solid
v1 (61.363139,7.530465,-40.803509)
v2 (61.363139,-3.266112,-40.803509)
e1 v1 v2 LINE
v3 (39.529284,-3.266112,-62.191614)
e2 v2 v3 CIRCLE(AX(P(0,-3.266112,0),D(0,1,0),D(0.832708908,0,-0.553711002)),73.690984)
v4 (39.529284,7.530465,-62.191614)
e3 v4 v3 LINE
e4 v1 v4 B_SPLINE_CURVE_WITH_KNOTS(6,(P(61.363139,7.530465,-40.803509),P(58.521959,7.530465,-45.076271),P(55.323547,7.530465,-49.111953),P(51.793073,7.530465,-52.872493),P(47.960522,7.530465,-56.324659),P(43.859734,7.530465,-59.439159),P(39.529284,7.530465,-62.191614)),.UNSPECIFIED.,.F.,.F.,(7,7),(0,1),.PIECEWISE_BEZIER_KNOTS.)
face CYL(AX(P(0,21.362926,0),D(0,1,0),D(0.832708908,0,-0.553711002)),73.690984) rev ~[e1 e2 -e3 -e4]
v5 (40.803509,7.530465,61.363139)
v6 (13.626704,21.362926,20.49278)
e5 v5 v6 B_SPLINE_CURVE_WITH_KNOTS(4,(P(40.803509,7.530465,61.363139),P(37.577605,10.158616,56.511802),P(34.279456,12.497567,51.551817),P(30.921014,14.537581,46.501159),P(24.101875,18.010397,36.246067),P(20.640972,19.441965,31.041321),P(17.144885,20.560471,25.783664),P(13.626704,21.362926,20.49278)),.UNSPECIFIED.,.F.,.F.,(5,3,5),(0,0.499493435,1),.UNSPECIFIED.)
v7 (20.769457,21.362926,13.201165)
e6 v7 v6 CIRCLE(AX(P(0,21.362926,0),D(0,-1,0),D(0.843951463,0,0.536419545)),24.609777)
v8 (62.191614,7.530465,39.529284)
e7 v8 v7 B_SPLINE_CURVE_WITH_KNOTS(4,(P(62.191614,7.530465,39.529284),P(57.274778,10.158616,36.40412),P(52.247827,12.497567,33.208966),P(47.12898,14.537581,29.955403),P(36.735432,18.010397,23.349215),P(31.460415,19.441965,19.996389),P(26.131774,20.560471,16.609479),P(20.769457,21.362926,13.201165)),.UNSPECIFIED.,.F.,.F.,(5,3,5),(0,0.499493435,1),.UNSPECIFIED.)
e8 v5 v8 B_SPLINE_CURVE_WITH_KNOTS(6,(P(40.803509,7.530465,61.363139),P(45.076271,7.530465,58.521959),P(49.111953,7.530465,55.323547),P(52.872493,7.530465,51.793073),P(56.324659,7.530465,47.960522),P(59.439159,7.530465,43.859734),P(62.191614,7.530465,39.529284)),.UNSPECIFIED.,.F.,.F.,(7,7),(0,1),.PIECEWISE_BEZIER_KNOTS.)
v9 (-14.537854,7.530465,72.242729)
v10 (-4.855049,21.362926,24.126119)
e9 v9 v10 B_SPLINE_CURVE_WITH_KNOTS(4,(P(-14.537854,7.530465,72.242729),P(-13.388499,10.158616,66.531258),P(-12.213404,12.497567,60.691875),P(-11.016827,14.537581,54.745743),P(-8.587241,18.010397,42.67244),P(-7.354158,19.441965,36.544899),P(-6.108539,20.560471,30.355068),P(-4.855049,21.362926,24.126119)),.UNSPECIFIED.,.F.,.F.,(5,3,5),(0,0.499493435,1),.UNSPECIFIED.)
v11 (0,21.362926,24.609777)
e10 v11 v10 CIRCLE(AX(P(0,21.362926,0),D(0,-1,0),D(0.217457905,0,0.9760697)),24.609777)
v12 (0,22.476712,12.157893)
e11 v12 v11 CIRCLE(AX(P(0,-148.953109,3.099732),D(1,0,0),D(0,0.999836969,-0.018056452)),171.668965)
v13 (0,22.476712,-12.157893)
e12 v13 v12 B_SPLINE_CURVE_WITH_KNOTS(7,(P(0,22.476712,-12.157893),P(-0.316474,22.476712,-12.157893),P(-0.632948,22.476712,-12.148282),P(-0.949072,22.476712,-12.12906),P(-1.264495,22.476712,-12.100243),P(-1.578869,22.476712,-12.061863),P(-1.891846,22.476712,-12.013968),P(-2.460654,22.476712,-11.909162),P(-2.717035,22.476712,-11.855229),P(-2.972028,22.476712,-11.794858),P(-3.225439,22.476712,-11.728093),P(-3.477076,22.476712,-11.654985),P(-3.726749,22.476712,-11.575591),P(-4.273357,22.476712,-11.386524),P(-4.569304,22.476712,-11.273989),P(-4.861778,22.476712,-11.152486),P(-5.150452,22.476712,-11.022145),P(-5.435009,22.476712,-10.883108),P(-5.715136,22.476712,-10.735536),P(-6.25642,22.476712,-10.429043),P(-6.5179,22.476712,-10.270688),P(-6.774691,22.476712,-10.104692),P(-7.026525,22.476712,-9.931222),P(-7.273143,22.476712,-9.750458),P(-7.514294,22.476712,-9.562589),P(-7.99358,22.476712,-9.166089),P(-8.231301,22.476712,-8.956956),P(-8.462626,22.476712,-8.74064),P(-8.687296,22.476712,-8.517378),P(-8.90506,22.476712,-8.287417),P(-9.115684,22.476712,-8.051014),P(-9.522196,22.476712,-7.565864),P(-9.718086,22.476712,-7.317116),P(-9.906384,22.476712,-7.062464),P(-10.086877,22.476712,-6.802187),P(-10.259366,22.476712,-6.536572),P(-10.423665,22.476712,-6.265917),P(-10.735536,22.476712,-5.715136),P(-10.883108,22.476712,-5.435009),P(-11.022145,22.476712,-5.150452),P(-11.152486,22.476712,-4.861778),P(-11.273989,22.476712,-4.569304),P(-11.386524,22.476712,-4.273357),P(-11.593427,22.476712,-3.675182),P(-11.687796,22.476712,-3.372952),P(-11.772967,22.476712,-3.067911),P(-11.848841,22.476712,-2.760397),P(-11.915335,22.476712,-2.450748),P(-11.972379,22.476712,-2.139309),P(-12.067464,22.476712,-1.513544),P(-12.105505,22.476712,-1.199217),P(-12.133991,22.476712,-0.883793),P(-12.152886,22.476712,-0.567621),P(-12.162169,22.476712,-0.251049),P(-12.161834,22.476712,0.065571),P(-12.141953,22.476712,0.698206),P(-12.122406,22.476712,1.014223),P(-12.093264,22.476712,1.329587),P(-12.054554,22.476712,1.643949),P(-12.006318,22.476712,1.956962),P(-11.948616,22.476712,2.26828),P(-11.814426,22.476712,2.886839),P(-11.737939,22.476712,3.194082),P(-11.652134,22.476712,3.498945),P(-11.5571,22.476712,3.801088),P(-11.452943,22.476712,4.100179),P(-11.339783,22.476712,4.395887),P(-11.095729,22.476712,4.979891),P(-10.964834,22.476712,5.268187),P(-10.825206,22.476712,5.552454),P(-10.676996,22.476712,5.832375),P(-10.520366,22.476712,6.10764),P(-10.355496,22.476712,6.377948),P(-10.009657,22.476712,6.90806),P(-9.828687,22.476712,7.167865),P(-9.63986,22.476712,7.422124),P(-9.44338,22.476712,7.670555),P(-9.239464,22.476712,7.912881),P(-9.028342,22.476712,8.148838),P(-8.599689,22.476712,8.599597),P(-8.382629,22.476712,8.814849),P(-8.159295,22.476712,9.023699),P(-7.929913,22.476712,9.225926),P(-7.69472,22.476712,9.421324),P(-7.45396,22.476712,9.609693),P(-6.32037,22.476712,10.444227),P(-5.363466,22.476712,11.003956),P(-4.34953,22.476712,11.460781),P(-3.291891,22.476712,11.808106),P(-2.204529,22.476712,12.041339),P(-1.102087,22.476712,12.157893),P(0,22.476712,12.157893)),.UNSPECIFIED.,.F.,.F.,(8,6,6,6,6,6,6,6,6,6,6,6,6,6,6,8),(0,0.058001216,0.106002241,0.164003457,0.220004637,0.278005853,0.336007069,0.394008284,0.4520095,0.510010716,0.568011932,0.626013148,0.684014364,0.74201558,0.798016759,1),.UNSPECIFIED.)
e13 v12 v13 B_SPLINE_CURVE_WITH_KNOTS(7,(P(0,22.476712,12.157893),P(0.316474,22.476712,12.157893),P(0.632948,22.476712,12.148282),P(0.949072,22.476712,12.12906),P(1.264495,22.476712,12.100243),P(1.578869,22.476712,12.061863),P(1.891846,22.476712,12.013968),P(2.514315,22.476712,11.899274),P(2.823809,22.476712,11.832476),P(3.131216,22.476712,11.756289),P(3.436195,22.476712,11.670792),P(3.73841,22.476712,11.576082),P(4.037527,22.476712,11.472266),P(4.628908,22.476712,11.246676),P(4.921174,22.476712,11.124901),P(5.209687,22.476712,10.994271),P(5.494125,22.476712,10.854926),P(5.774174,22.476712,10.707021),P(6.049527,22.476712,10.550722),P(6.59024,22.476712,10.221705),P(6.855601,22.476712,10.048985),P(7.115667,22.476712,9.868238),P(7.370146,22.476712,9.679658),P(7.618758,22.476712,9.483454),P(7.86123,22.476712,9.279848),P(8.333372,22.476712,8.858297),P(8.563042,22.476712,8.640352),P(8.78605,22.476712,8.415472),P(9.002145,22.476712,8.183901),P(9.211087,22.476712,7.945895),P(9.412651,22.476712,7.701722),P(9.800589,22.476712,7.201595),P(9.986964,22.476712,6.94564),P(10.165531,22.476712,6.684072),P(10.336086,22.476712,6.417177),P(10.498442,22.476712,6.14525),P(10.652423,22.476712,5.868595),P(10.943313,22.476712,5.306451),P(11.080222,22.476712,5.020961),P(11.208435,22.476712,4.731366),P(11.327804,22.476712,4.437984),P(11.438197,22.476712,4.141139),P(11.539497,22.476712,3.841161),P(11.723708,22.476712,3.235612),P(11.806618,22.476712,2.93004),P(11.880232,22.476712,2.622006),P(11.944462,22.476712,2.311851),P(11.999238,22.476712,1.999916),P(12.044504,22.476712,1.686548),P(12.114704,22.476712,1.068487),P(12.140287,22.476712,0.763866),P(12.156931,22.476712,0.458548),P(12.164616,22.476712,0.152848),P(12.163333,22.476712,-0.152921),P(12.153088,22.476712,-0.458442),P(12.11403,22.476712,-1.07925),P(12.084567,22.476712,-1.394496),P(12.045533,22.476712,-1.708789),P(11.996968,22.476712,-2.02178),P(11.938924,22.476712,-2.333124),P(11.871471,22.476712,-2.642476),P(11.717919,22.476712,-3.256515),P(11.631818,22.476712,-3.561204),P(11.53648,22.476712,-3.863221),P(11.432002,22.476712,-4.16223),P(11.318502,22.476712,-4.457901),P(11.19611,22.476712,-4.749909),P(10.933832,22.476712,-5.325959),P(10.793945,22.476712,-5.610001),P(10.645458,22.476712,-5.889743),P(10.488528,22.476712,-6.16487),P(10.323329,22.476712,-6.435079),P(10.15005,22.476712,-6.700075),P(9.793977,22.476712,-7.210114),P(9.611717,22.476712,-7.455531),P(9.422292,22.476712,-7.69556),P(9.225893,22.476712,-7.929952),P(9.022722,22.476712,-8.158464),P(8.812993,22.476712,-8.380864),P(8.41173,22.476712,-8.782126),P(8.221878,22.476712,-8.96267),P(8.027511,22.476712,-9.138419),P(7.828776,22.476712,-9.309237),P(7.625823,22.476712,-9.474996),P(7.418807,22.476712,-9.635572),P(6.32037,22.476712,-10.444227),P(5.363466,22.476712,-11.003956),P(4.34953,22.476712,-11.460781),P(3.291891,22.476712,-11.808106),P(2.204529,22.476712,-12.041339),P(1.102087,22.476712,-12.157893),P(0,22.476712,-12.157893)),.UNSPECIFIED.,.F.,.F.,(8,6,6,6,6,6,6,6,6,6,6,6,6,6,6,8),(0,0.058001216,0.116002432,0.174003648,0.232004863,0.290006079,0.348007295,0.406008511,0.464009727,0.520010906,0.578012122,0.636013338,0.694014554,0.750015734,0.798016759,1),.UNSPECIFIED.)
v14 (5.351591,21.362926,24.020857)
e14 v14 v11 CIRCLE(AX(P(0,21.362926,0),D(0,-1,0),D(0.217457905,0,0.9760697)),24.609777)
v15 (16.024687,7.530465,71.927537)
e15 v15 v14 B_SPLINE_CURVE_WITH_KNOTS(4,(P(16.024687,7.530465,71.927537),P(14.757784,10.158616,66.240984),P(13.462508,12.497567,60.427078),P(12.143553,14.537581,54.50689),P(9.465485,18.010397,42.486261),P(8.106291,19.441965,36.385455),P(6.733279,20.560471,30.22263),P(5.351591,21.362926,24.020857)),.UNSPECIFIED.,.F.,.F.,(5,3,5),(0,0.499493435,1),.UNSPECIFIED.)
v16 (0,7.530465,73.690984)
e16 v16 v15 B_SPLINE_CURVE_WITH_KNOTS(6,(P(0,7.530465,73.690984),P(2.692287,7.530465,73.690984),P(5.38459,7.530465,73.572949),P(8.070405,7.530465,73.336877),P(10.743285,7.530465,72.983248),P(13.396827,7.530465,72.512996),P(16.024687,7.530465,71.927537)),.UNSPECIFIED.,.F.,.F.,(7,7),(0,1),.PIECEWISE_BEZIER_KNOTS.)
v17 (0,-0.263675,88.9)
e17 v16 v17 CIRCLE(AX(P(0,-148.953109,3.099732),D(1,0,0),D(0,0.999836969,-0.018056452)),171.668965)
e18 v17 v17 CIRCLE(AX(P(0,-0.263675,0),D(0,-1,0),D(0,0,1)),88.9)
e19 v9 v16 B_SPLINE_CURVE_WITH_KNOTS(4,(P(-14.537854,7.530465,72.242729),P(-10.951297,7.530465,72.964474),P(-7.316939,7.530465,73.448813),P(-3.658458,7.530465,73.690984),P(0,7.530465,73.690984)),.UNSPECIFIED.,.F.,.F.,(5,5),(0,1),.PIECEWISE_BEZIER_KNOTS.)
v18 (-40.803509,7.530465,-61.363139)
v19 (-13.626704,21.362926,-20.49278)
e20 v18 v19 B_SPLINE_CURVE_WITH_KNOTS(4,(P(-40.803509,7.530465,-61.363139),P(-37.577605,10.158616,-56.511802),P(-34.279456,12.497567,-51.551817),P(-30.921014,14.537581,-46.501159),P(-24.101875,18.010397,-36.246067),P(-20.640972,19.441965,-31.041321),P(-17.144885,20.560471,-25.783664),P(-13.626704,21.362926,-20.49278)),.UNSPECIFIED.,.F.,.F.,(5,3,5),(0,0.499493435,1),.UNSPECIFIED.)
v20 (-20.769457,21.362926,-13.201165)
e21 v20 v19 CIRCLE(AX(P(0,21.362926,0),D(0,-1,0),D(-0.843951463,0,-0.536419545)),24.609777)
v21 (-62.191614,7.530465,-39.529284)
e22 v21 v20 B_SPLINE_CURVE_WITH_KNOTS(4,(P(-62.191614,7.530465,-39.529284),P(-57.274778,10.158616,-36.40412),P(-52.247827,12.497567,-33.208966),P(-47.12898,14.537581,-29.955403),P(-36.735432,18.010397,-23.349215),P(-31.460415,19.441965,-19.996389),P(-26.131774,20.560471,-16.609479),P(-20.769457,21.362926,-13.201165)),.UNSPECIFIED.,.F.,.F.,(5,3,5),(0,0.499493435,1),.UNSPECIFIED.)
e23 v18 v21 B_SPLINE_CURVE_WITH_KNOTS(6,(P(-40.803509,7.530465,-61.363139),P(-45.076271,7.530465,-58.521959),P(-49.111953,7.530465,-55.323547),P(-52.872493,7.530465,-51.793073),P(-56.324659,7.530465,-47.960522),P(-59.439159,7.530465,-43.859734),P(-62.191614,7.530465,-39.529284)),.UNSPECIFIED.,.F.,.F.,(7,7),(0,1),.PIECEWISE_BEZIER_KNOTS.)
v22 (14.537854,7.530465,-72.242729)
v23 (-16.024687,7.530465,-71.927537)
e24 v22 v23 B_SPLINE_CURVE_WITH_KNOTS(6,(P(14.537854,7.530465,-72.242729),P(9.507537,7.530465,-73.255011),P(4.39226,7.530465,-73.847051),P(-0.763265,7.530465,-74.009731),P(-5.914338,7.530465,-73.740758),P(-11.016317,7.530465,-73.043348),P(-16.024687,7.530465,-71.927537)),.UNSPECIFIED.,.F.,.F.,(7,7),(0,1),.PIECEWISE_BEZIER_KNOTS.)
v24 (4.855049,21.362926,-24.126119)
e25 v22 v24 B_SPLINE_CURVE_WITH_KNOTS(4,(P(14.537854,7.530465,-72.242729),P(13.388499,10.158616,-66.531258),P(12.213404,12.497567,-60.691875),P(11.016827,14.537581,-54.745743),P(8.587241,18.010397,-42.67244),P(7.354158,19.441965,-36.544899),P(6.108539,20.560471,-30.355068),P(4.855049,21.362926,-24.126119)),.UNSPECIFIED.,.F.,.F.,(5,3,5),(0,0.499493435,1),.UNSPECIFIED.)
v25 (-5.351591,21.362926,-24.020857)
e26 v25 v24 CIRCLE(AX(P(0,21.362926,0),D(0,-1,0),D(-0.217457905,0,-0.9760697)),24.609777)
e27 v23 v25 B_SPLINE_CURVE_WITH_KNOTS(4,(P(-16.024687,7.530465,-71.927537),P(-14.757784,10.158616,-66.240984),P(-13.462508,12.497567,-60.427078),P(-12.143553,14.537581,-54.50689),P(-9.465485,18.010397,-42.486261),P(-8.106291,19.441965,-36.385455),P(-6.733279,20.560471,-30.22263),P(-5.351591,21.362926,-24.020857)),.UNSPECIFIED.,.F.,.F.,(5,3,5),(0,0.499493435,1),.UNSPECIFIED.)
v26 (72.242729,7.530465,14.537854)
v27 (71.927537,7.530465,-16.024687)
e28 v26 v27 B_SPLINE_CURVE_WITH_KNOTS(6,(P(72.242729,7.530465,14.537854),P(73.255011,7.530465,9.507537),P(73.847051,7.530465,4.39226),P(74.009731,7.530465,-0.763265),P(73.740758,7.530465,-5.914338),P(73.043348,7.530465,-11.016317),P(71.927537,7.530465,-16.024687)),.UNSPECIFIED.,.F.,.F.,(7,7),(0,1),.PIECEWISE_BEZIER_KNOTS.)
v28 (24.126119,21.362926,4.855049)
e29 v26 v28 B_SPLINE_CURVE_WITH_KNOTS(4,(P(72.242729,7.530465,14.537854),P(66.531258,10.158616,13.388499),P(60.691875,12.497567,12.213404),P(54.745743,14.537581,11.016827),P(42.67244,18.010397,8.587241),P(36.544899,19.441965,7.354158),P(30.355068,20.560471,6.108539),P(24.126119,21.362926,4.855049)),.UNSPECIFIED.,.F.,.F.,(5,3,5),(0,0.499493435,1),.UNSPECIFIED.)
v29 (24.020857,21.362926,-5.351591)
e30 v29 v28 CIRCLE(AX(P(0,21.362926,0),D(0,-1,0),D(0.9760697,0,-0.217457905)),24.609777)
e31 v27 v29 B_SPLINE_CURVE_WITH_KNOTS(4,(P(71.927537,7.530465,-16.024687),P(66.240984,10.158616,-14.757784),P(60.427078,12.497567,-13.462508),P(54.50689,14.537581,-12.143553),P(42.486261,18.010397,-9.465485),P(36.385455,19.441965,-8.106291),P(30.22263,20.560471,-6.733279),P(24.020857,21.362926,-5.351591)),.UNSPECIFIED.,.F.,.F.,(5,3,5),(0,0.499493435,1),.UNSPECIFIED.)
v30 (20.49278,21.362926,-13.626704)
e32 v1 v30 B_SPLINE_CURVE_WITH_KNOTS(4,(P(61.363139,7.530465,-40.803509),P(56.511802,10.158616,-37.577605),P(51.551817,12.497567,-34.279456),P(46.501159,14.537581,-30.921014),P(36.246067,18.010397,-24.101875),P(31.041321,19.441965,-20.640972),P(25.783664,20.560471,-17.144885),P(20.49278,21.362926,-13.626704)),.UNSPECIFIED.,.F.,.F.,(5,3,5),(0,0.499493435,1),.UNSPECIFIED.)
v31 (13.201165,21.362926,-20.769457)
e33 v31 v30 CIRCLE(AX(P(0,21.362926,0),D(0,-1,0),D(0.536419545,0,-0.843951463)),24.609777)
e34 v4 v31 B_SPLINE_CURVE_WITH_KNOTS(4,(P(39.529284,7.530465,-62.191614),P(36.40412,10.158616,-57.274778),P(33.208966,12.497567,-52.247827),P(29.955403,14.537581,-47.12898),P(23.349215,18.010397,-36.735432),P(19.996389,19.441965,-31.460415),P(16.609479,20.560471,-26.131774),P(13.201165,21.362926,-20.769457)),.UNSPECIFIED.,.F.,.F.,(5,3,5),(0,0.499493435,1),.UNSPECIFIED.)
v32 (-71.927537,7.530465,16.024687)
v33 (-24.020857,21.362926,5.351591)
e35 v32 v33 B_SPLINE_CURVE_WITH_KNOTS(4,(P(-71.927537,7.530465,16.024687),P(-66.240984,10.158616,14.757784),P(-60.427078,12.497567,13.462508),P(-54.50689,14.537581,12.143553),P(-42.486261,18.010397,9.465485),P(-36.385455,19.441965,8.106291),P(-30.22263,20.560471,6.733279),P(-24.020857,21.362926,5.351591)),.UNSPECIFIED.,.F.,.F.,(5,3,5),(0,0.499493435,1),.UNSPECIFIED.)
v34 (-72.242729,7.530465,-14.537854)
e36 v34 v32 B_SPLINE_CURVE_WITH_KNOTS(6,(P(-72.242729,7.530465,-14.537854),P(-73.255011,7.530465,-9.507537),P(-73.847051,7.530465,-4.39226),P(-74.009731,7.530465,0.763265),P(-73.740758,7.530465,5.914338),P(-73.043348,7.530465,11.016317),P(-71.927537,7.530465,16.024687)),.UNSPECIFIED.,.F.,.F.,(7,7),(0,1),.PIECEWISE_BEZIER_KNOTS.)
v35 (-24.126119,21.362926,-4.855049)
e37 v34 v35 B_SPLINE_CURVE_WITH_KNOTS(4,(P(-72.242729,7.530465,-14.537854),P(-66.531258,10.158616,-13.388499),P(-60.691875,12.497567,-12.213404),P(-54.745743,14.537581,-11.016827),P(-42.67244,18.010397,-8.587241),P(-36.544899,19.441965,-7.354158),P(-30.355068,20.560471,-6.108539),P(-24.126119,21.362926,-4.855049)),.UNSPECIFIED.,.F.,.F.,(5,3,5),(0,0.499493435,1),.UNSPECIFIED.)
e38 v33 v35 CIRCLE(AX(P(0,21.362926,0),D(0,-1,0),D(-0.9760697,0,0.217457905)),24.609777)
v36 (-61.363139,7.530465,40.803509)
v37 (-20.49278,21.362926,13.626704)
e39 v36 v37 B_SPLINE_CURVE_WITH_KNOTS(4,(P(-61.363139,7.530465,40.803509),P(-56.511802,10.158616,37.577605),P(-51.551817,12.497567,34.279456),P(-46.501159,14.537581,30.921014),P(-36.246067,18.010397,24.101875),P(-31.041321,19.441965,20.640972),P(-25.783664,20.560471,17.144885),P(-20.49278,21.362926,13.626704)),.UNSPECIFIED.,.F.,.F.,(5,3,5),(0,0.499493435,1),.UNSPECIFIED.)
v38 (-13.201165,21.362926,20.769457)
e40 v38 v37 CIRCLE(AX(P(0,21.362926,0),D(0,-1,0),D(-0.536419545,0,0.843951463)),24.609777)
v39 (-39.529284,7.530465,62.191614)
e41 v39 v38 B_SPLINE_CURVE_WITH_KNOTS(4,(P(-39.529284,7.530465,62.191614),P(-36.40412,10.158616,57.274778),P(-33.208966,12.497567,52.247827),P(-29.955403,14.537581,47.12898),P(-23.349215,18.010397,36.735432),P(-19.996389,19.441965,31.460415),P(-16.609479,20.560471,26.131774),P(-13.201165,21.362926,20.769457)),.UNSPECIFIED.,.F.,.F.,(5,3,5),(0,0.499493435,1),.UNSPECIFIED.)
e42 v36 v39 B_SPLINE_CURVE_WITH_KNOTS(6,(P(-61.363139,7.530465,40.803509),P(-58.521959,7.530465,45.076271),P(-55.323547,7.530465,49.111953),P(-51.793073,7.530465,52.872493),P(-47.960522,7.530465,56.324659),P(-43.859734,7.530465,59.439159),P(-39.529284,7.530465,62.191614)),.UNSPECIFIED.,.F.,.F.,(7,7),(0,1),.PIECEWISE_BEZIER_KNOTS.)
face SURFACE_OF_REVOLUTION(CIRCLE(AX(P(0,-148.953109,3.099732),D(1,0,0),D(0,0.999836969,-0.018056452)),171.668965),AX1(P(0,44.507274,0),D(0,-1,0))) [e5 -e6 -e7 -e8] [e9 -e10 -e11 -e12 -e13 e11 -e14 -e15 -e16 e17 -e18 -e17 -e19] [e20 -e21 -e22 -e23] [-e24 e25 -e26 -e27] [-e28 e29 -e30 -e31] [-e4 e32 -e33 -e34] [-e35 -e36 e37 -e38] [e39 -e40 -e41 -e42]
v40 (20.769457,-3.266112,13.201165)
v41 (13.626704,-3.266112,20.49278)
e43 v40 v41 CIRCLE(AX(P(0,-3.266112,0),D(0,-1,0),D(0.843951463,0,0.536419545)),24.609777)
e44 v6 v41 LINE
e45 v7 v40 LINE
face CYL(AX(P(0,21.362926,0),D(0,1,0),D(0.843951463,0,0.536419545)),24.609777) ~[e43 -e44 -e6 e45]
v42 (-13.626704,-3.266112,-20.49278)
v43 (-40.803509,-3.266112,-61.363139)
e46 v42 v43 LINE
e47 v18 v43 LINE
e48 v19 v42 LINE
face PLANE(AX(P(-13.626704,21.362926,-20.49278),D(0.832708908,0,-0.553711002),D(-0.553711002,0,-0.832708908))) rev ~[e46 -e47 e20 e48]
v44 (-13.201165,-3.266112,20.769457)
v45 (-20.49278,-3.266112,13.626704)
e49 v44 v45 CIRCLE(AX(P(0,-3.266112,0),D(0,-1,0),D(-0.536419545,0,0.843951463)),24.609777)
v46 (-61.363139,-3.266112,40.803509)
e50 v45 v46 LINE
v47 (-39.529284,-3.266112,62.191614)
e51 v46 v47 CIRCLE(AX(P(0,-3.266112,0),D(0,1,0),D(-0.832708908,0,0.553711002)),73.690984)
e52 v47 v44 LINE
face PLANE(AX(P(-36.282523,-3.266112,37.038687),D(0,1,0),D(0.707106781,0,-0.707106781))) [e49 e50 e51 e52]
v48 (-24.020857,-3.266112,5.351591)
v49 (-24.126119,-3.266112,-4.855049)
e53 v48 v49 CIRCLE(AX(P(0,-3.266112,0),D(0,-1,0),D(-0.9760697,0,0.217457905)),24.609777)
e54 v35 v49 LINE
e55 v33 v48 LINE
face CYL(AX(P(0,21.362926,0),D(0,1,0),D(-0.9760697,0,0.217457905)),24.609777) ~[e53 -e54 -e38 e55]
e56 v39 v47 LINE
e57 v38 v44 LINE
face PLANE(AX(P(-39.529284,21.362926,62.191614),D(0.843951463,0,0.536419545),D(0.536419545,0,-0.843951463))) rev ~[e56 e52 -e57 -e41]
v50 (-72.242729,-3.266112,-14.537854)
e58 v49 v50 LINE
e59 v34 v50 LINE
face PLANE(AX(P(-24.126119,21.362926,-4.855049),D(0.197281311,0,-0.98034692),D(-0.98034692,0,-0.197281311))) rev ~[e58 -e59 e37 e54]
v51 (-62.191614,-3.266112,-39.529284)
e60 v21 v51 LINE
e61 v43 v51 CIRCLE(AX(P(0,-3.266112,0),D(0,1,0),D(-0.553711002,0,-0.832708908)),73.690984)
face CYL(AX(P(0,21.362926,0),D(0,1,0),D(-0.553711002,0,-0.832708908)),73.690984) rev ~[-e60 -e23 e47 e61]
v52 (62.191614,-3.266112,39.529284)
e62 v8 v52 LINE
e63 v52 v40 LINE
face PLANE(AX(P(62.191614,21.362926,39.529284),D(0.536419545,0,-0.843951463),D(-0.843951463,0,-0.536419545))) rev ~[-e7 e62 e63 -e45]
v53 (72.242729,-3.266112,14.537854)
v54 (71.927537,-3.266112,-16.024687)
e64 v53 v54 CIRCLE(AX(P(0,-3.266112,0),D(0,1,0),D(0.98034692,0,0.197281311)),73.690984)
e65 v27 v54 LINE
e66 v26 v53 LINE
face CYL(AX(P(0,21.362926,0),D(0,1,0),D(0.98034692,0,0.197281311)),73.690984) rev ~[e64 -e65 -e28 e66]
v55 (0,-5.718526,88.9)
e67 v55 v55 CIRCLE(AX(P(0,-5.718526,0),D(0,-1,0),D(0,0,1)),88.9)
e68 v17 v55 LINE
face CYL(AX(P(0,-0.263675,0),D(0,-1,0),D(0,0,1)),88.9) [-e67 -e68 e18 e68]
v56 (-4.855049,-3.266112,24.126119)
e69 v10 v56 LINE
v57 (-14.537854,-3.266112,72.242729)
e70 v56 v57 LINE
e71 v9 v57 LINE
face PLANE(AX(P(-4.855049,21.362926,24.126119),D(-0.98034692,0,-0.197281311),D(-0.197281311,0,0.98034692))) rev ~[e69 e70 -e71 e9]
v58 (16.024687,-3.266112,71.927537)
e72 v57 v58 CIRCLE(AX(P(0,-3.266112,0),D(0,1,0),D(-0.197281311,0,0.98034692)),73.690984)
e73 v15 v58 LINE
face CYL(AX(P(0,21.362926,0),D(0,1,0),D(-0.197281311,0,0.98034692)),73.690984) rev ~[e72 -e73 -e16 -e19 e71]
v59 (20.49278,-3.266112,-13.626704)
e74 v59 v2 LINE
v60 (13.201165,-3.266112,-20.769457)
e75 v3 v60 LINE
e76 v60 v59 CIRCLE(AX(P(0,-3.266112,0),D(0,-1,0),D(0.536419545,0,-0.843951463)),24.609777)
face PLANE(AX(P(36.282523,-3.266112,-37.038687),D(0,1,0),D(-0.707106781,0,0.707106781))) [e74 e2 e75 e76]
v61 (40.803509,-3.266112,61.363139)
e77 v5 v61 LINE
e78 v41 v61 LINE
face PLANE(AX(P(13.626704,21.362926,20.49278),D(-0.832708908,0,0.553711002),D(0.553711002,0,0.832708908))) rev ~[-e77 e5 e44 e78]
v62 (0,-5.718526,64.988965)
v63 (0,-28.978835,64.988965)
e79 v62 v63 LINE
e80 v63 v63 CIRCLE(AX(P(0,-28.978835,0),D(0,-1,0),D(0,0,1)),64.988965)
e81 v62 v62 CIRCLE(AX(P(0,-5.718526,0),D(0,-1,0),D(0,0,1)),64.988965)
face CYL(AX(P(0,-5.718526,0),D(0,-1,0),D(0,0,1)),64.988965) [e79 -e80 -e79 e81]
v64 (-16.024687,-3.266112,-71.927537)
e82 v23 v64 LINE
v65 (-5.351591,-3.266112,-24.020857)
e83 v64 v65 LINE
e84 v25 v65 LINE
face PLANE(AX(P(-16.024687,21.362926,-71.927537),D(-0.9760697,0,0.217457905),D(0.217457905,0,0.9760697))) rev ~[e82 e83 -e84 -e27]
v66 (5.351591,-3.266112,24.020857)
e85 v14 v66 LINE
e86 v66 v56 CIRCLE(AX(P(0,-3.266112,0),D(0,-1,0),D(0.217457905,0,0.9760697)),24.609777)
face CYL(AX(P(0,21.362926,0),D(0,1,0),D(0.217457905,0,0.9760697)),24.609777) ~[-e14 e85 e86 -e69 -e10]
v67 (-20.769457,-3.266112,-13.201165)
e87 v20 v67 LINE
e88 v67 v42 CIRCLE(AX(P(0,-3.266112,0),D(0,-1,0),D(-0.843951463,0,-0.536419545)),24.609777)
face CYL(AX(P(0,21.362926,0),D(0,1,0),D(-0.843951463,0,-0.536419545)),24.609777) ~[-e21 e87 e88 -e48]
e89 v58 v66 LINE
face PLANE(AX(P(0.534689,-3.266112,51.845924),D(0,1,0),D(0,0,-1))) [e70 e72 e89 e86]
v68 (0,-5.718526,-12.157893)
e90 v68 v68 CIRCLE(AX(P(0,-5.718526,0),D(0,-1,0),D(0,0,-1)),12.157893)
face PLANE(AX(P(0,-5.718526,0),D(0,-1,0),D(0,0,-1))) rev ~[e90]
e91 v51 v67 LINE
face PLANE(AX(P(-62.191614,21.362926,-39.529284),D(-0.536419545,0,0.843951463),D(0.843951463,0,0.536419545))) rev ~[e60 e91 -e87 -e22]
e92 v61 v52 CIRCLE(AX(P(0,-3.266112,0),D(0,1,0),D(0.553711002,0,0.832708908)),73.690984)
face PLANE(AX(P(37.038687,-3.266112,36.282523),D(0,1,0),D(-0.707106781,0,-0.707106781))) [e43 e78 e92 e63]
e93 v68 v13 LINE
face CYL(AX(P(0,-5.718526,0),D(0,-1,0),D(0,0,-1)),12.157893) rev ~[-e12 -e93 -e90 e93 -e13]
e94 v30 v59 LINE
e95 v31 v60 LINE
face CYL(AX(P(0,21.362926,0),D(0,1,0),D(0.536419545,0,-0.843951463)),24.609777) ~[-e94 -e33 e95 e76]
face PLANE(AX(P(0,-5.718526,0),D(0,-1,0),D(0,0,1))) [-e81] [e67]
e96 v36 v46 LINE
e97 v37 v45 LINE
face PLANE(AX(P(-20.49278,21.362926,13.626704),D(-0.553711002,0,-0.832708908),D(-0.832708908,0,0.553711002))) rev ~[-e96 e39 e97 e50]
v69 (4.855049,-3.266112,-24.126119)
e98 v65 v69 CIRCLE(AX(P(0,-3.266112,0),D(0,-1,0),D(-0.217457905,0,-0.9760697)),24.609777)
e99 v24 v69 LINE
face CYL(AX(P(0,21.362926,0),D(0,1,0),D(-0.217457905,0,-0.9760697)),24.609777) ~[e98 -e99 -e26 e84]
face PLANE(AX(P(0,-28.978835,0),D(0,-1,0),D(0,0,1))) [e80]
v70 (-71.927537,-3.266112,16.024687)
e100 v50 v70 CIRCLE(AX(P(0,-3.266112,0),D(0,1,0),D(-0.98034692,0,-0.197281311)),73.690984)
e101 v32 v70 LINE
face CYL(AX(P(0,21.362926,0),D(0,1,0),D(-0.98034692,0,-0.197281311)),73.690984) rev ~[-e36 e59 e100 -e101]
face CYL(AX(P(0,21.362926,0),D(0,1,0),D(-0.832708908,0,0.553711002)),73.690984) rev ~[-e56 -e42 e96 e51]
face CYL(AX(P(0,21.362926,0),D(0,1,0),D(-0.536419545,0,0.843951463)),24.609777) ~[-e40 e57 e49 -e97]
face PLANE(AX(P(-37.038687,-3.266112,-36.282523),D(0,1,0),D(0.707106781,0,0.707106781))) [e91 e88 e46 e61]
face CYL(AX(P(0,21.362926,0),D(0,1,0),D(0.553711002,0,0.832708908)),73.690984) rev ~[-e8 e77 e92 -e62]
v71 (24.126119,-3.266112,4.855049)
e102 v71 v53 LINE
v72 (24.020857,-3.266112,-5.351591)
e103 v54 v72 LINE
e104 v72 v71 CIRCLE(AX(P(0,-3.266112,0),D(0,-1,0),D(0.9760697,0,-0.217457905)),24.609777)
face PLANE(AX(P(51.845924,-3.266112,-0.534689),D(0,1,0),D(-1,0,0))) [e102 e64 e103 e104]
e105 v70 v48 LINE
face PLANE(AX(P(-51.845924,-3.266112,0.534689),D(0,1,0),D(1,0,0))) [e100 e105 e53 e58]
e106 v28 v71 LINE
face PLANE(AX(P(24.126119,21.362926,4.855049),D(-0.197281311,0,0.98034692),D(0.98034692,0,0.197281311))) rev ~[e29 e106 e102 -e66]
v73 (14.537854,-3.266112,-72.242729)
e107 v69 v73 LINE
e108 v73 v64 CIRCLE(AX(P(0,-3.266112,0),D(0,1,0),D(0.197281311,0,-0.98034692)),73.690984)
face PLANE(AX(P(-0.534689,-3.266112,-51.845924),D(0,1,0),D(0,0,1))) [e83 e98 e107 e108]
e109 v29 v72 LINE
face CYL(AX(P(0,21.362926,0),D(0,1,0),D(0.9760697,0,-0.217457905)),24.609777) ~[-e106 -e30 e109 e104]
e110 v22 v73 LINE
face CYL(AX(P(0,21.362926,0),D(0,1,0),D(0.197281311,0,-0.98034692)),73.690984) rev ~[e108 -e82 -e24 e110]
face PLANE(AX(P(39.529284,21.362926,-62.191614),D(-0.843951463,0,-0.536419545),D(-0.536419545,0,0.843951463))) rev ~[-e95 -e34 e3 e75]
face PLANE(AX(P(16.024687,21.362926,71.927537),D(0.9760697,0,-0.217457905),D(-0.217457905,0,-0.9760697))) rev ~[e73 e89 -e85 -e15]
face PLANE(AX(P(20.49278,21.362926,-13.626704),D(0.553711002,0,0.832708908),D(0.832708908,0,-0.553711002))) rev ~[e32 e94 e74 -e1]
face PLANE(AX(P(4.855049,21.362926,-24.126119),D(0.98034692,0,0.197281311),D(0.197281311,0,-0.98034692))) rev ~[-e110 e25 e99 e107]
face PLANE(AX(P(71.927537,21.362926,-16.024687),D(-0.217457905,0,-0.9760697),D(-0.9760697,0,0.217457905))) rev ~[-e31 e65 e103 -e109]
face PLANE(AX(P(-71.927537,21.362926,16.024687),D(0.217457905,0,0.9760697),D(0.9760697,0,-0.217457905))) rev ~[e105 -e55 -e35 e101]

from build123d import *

# Parameters (mm, degrees)
CUT_EXTRUDE3_START = -28.048647
CUT_EXTRUDE3_DEPTH = 25.508647
CIRPATTERN2_COUNT  = 8
CUT_EXTRUDE4_REACH = 31.45
SKETCH6_R          = 12.59210321
SCALE1_SCALE       = 0.96551724


with BuildPart() as part:
    # Sketch1 → Revolve1 (revolve)
    with BuildSketch(Plane.XY, mode=Mode.PRIVATE) as revolve1_sk:
        with BuildLine():
            Line((-92.075, 0), (-92.075, -5.649667396))
            Line((-92.075, -5.649667396), (-67.31, -5.649667396))
            Line((-67.31, -5.649667396), (-67.31, -29.740701954))
            Line((-67.31, -29.740701954), (0, -29.740701954))
            Line((0, -29.740701954), (0, 0))
            Line((0, 0), (0, 23.771242064))
            ThreePointArc((0, 23.771242064), (-47.656193975, 18.155434253), (-92.075, 0))
        make_face()
    revolve(revolve1_sk.sketch.rotate(Axis((0, 46.369911649, 0), (0, -1, 0)), 270), axis=Axis((0, 46.369911649, 0), (0, -1, 0)))  # turned: the seam where the file's is

    # Sketch4 → Cut-Extrude3 (cut)
    with BuildSketch(Plane.XZ.offset(5.649667396).offset(CUT_EXTRUDE3_START)):
        with BuildLine():
            Line((24.987766053, 5.028443659), (74.822826668, 15.057063026))
            ThreePointArc((74.822826668, 15.057063026), (76.318746359, -0.787077909), (74.496377234, -16.596997215))
            Line((74.496377234, -16.596997215), (24.878745284, -5.542718741))
            ThreePointArc((24.878745284, -5.542718741), (25.487342091, -0.262851853), (24.987766053, 5.028443659))
        make_face()
    cut_extrude3 = extrude(amount=CUT_EXTRUDE3_DEPTH, mode=Mode.SUBTRACT)

    # CirPattern2: Cut-Extrude3 ×8 about axis
    cirpattern2_axis = Axis((0, 0, 0), (0, 1, 0))
    for i in range(1, CIRPATTERN2_COUNT):
        add(cut_extrude3.rotate(cirpattern2_axis, i * 360 / CIRPATTERN2_COUNT), mode=Mode.SUBTRACT)

    # Sketch6 → Cut-Extrude4 (cut, up to next)
    with BuildSketch(Plane.XZ.offset(5.649667396), mode=Mode.PRIVATE) as cut_extrude4_sk1:
        with Locations(Location((0, 0, 0), (0, 0, 270))):  # turned: the seam where the file's is
            Circle(SKETCH6_R)
    cut_extrude4_tool1 = extrude(cut_extrude4_sk1.sketch, amount=-CUT_EXTRUDE4_REACH, mode=Mode.PRIVATE) & part.part
    add(cut_extrude4_tool1.solids().sort_by_distance((0, -5.649667, 0))[0], mode=Mode.SUBTRACT)


with BuildPart() as part_1:
    # Scale1: scaled about (-5e-09, -7.646574392, 0)
    add(part.part.scale(SCALE1_SCALE).moved(Location((0, -0.26367499, 0))))


solid = part_1.part
